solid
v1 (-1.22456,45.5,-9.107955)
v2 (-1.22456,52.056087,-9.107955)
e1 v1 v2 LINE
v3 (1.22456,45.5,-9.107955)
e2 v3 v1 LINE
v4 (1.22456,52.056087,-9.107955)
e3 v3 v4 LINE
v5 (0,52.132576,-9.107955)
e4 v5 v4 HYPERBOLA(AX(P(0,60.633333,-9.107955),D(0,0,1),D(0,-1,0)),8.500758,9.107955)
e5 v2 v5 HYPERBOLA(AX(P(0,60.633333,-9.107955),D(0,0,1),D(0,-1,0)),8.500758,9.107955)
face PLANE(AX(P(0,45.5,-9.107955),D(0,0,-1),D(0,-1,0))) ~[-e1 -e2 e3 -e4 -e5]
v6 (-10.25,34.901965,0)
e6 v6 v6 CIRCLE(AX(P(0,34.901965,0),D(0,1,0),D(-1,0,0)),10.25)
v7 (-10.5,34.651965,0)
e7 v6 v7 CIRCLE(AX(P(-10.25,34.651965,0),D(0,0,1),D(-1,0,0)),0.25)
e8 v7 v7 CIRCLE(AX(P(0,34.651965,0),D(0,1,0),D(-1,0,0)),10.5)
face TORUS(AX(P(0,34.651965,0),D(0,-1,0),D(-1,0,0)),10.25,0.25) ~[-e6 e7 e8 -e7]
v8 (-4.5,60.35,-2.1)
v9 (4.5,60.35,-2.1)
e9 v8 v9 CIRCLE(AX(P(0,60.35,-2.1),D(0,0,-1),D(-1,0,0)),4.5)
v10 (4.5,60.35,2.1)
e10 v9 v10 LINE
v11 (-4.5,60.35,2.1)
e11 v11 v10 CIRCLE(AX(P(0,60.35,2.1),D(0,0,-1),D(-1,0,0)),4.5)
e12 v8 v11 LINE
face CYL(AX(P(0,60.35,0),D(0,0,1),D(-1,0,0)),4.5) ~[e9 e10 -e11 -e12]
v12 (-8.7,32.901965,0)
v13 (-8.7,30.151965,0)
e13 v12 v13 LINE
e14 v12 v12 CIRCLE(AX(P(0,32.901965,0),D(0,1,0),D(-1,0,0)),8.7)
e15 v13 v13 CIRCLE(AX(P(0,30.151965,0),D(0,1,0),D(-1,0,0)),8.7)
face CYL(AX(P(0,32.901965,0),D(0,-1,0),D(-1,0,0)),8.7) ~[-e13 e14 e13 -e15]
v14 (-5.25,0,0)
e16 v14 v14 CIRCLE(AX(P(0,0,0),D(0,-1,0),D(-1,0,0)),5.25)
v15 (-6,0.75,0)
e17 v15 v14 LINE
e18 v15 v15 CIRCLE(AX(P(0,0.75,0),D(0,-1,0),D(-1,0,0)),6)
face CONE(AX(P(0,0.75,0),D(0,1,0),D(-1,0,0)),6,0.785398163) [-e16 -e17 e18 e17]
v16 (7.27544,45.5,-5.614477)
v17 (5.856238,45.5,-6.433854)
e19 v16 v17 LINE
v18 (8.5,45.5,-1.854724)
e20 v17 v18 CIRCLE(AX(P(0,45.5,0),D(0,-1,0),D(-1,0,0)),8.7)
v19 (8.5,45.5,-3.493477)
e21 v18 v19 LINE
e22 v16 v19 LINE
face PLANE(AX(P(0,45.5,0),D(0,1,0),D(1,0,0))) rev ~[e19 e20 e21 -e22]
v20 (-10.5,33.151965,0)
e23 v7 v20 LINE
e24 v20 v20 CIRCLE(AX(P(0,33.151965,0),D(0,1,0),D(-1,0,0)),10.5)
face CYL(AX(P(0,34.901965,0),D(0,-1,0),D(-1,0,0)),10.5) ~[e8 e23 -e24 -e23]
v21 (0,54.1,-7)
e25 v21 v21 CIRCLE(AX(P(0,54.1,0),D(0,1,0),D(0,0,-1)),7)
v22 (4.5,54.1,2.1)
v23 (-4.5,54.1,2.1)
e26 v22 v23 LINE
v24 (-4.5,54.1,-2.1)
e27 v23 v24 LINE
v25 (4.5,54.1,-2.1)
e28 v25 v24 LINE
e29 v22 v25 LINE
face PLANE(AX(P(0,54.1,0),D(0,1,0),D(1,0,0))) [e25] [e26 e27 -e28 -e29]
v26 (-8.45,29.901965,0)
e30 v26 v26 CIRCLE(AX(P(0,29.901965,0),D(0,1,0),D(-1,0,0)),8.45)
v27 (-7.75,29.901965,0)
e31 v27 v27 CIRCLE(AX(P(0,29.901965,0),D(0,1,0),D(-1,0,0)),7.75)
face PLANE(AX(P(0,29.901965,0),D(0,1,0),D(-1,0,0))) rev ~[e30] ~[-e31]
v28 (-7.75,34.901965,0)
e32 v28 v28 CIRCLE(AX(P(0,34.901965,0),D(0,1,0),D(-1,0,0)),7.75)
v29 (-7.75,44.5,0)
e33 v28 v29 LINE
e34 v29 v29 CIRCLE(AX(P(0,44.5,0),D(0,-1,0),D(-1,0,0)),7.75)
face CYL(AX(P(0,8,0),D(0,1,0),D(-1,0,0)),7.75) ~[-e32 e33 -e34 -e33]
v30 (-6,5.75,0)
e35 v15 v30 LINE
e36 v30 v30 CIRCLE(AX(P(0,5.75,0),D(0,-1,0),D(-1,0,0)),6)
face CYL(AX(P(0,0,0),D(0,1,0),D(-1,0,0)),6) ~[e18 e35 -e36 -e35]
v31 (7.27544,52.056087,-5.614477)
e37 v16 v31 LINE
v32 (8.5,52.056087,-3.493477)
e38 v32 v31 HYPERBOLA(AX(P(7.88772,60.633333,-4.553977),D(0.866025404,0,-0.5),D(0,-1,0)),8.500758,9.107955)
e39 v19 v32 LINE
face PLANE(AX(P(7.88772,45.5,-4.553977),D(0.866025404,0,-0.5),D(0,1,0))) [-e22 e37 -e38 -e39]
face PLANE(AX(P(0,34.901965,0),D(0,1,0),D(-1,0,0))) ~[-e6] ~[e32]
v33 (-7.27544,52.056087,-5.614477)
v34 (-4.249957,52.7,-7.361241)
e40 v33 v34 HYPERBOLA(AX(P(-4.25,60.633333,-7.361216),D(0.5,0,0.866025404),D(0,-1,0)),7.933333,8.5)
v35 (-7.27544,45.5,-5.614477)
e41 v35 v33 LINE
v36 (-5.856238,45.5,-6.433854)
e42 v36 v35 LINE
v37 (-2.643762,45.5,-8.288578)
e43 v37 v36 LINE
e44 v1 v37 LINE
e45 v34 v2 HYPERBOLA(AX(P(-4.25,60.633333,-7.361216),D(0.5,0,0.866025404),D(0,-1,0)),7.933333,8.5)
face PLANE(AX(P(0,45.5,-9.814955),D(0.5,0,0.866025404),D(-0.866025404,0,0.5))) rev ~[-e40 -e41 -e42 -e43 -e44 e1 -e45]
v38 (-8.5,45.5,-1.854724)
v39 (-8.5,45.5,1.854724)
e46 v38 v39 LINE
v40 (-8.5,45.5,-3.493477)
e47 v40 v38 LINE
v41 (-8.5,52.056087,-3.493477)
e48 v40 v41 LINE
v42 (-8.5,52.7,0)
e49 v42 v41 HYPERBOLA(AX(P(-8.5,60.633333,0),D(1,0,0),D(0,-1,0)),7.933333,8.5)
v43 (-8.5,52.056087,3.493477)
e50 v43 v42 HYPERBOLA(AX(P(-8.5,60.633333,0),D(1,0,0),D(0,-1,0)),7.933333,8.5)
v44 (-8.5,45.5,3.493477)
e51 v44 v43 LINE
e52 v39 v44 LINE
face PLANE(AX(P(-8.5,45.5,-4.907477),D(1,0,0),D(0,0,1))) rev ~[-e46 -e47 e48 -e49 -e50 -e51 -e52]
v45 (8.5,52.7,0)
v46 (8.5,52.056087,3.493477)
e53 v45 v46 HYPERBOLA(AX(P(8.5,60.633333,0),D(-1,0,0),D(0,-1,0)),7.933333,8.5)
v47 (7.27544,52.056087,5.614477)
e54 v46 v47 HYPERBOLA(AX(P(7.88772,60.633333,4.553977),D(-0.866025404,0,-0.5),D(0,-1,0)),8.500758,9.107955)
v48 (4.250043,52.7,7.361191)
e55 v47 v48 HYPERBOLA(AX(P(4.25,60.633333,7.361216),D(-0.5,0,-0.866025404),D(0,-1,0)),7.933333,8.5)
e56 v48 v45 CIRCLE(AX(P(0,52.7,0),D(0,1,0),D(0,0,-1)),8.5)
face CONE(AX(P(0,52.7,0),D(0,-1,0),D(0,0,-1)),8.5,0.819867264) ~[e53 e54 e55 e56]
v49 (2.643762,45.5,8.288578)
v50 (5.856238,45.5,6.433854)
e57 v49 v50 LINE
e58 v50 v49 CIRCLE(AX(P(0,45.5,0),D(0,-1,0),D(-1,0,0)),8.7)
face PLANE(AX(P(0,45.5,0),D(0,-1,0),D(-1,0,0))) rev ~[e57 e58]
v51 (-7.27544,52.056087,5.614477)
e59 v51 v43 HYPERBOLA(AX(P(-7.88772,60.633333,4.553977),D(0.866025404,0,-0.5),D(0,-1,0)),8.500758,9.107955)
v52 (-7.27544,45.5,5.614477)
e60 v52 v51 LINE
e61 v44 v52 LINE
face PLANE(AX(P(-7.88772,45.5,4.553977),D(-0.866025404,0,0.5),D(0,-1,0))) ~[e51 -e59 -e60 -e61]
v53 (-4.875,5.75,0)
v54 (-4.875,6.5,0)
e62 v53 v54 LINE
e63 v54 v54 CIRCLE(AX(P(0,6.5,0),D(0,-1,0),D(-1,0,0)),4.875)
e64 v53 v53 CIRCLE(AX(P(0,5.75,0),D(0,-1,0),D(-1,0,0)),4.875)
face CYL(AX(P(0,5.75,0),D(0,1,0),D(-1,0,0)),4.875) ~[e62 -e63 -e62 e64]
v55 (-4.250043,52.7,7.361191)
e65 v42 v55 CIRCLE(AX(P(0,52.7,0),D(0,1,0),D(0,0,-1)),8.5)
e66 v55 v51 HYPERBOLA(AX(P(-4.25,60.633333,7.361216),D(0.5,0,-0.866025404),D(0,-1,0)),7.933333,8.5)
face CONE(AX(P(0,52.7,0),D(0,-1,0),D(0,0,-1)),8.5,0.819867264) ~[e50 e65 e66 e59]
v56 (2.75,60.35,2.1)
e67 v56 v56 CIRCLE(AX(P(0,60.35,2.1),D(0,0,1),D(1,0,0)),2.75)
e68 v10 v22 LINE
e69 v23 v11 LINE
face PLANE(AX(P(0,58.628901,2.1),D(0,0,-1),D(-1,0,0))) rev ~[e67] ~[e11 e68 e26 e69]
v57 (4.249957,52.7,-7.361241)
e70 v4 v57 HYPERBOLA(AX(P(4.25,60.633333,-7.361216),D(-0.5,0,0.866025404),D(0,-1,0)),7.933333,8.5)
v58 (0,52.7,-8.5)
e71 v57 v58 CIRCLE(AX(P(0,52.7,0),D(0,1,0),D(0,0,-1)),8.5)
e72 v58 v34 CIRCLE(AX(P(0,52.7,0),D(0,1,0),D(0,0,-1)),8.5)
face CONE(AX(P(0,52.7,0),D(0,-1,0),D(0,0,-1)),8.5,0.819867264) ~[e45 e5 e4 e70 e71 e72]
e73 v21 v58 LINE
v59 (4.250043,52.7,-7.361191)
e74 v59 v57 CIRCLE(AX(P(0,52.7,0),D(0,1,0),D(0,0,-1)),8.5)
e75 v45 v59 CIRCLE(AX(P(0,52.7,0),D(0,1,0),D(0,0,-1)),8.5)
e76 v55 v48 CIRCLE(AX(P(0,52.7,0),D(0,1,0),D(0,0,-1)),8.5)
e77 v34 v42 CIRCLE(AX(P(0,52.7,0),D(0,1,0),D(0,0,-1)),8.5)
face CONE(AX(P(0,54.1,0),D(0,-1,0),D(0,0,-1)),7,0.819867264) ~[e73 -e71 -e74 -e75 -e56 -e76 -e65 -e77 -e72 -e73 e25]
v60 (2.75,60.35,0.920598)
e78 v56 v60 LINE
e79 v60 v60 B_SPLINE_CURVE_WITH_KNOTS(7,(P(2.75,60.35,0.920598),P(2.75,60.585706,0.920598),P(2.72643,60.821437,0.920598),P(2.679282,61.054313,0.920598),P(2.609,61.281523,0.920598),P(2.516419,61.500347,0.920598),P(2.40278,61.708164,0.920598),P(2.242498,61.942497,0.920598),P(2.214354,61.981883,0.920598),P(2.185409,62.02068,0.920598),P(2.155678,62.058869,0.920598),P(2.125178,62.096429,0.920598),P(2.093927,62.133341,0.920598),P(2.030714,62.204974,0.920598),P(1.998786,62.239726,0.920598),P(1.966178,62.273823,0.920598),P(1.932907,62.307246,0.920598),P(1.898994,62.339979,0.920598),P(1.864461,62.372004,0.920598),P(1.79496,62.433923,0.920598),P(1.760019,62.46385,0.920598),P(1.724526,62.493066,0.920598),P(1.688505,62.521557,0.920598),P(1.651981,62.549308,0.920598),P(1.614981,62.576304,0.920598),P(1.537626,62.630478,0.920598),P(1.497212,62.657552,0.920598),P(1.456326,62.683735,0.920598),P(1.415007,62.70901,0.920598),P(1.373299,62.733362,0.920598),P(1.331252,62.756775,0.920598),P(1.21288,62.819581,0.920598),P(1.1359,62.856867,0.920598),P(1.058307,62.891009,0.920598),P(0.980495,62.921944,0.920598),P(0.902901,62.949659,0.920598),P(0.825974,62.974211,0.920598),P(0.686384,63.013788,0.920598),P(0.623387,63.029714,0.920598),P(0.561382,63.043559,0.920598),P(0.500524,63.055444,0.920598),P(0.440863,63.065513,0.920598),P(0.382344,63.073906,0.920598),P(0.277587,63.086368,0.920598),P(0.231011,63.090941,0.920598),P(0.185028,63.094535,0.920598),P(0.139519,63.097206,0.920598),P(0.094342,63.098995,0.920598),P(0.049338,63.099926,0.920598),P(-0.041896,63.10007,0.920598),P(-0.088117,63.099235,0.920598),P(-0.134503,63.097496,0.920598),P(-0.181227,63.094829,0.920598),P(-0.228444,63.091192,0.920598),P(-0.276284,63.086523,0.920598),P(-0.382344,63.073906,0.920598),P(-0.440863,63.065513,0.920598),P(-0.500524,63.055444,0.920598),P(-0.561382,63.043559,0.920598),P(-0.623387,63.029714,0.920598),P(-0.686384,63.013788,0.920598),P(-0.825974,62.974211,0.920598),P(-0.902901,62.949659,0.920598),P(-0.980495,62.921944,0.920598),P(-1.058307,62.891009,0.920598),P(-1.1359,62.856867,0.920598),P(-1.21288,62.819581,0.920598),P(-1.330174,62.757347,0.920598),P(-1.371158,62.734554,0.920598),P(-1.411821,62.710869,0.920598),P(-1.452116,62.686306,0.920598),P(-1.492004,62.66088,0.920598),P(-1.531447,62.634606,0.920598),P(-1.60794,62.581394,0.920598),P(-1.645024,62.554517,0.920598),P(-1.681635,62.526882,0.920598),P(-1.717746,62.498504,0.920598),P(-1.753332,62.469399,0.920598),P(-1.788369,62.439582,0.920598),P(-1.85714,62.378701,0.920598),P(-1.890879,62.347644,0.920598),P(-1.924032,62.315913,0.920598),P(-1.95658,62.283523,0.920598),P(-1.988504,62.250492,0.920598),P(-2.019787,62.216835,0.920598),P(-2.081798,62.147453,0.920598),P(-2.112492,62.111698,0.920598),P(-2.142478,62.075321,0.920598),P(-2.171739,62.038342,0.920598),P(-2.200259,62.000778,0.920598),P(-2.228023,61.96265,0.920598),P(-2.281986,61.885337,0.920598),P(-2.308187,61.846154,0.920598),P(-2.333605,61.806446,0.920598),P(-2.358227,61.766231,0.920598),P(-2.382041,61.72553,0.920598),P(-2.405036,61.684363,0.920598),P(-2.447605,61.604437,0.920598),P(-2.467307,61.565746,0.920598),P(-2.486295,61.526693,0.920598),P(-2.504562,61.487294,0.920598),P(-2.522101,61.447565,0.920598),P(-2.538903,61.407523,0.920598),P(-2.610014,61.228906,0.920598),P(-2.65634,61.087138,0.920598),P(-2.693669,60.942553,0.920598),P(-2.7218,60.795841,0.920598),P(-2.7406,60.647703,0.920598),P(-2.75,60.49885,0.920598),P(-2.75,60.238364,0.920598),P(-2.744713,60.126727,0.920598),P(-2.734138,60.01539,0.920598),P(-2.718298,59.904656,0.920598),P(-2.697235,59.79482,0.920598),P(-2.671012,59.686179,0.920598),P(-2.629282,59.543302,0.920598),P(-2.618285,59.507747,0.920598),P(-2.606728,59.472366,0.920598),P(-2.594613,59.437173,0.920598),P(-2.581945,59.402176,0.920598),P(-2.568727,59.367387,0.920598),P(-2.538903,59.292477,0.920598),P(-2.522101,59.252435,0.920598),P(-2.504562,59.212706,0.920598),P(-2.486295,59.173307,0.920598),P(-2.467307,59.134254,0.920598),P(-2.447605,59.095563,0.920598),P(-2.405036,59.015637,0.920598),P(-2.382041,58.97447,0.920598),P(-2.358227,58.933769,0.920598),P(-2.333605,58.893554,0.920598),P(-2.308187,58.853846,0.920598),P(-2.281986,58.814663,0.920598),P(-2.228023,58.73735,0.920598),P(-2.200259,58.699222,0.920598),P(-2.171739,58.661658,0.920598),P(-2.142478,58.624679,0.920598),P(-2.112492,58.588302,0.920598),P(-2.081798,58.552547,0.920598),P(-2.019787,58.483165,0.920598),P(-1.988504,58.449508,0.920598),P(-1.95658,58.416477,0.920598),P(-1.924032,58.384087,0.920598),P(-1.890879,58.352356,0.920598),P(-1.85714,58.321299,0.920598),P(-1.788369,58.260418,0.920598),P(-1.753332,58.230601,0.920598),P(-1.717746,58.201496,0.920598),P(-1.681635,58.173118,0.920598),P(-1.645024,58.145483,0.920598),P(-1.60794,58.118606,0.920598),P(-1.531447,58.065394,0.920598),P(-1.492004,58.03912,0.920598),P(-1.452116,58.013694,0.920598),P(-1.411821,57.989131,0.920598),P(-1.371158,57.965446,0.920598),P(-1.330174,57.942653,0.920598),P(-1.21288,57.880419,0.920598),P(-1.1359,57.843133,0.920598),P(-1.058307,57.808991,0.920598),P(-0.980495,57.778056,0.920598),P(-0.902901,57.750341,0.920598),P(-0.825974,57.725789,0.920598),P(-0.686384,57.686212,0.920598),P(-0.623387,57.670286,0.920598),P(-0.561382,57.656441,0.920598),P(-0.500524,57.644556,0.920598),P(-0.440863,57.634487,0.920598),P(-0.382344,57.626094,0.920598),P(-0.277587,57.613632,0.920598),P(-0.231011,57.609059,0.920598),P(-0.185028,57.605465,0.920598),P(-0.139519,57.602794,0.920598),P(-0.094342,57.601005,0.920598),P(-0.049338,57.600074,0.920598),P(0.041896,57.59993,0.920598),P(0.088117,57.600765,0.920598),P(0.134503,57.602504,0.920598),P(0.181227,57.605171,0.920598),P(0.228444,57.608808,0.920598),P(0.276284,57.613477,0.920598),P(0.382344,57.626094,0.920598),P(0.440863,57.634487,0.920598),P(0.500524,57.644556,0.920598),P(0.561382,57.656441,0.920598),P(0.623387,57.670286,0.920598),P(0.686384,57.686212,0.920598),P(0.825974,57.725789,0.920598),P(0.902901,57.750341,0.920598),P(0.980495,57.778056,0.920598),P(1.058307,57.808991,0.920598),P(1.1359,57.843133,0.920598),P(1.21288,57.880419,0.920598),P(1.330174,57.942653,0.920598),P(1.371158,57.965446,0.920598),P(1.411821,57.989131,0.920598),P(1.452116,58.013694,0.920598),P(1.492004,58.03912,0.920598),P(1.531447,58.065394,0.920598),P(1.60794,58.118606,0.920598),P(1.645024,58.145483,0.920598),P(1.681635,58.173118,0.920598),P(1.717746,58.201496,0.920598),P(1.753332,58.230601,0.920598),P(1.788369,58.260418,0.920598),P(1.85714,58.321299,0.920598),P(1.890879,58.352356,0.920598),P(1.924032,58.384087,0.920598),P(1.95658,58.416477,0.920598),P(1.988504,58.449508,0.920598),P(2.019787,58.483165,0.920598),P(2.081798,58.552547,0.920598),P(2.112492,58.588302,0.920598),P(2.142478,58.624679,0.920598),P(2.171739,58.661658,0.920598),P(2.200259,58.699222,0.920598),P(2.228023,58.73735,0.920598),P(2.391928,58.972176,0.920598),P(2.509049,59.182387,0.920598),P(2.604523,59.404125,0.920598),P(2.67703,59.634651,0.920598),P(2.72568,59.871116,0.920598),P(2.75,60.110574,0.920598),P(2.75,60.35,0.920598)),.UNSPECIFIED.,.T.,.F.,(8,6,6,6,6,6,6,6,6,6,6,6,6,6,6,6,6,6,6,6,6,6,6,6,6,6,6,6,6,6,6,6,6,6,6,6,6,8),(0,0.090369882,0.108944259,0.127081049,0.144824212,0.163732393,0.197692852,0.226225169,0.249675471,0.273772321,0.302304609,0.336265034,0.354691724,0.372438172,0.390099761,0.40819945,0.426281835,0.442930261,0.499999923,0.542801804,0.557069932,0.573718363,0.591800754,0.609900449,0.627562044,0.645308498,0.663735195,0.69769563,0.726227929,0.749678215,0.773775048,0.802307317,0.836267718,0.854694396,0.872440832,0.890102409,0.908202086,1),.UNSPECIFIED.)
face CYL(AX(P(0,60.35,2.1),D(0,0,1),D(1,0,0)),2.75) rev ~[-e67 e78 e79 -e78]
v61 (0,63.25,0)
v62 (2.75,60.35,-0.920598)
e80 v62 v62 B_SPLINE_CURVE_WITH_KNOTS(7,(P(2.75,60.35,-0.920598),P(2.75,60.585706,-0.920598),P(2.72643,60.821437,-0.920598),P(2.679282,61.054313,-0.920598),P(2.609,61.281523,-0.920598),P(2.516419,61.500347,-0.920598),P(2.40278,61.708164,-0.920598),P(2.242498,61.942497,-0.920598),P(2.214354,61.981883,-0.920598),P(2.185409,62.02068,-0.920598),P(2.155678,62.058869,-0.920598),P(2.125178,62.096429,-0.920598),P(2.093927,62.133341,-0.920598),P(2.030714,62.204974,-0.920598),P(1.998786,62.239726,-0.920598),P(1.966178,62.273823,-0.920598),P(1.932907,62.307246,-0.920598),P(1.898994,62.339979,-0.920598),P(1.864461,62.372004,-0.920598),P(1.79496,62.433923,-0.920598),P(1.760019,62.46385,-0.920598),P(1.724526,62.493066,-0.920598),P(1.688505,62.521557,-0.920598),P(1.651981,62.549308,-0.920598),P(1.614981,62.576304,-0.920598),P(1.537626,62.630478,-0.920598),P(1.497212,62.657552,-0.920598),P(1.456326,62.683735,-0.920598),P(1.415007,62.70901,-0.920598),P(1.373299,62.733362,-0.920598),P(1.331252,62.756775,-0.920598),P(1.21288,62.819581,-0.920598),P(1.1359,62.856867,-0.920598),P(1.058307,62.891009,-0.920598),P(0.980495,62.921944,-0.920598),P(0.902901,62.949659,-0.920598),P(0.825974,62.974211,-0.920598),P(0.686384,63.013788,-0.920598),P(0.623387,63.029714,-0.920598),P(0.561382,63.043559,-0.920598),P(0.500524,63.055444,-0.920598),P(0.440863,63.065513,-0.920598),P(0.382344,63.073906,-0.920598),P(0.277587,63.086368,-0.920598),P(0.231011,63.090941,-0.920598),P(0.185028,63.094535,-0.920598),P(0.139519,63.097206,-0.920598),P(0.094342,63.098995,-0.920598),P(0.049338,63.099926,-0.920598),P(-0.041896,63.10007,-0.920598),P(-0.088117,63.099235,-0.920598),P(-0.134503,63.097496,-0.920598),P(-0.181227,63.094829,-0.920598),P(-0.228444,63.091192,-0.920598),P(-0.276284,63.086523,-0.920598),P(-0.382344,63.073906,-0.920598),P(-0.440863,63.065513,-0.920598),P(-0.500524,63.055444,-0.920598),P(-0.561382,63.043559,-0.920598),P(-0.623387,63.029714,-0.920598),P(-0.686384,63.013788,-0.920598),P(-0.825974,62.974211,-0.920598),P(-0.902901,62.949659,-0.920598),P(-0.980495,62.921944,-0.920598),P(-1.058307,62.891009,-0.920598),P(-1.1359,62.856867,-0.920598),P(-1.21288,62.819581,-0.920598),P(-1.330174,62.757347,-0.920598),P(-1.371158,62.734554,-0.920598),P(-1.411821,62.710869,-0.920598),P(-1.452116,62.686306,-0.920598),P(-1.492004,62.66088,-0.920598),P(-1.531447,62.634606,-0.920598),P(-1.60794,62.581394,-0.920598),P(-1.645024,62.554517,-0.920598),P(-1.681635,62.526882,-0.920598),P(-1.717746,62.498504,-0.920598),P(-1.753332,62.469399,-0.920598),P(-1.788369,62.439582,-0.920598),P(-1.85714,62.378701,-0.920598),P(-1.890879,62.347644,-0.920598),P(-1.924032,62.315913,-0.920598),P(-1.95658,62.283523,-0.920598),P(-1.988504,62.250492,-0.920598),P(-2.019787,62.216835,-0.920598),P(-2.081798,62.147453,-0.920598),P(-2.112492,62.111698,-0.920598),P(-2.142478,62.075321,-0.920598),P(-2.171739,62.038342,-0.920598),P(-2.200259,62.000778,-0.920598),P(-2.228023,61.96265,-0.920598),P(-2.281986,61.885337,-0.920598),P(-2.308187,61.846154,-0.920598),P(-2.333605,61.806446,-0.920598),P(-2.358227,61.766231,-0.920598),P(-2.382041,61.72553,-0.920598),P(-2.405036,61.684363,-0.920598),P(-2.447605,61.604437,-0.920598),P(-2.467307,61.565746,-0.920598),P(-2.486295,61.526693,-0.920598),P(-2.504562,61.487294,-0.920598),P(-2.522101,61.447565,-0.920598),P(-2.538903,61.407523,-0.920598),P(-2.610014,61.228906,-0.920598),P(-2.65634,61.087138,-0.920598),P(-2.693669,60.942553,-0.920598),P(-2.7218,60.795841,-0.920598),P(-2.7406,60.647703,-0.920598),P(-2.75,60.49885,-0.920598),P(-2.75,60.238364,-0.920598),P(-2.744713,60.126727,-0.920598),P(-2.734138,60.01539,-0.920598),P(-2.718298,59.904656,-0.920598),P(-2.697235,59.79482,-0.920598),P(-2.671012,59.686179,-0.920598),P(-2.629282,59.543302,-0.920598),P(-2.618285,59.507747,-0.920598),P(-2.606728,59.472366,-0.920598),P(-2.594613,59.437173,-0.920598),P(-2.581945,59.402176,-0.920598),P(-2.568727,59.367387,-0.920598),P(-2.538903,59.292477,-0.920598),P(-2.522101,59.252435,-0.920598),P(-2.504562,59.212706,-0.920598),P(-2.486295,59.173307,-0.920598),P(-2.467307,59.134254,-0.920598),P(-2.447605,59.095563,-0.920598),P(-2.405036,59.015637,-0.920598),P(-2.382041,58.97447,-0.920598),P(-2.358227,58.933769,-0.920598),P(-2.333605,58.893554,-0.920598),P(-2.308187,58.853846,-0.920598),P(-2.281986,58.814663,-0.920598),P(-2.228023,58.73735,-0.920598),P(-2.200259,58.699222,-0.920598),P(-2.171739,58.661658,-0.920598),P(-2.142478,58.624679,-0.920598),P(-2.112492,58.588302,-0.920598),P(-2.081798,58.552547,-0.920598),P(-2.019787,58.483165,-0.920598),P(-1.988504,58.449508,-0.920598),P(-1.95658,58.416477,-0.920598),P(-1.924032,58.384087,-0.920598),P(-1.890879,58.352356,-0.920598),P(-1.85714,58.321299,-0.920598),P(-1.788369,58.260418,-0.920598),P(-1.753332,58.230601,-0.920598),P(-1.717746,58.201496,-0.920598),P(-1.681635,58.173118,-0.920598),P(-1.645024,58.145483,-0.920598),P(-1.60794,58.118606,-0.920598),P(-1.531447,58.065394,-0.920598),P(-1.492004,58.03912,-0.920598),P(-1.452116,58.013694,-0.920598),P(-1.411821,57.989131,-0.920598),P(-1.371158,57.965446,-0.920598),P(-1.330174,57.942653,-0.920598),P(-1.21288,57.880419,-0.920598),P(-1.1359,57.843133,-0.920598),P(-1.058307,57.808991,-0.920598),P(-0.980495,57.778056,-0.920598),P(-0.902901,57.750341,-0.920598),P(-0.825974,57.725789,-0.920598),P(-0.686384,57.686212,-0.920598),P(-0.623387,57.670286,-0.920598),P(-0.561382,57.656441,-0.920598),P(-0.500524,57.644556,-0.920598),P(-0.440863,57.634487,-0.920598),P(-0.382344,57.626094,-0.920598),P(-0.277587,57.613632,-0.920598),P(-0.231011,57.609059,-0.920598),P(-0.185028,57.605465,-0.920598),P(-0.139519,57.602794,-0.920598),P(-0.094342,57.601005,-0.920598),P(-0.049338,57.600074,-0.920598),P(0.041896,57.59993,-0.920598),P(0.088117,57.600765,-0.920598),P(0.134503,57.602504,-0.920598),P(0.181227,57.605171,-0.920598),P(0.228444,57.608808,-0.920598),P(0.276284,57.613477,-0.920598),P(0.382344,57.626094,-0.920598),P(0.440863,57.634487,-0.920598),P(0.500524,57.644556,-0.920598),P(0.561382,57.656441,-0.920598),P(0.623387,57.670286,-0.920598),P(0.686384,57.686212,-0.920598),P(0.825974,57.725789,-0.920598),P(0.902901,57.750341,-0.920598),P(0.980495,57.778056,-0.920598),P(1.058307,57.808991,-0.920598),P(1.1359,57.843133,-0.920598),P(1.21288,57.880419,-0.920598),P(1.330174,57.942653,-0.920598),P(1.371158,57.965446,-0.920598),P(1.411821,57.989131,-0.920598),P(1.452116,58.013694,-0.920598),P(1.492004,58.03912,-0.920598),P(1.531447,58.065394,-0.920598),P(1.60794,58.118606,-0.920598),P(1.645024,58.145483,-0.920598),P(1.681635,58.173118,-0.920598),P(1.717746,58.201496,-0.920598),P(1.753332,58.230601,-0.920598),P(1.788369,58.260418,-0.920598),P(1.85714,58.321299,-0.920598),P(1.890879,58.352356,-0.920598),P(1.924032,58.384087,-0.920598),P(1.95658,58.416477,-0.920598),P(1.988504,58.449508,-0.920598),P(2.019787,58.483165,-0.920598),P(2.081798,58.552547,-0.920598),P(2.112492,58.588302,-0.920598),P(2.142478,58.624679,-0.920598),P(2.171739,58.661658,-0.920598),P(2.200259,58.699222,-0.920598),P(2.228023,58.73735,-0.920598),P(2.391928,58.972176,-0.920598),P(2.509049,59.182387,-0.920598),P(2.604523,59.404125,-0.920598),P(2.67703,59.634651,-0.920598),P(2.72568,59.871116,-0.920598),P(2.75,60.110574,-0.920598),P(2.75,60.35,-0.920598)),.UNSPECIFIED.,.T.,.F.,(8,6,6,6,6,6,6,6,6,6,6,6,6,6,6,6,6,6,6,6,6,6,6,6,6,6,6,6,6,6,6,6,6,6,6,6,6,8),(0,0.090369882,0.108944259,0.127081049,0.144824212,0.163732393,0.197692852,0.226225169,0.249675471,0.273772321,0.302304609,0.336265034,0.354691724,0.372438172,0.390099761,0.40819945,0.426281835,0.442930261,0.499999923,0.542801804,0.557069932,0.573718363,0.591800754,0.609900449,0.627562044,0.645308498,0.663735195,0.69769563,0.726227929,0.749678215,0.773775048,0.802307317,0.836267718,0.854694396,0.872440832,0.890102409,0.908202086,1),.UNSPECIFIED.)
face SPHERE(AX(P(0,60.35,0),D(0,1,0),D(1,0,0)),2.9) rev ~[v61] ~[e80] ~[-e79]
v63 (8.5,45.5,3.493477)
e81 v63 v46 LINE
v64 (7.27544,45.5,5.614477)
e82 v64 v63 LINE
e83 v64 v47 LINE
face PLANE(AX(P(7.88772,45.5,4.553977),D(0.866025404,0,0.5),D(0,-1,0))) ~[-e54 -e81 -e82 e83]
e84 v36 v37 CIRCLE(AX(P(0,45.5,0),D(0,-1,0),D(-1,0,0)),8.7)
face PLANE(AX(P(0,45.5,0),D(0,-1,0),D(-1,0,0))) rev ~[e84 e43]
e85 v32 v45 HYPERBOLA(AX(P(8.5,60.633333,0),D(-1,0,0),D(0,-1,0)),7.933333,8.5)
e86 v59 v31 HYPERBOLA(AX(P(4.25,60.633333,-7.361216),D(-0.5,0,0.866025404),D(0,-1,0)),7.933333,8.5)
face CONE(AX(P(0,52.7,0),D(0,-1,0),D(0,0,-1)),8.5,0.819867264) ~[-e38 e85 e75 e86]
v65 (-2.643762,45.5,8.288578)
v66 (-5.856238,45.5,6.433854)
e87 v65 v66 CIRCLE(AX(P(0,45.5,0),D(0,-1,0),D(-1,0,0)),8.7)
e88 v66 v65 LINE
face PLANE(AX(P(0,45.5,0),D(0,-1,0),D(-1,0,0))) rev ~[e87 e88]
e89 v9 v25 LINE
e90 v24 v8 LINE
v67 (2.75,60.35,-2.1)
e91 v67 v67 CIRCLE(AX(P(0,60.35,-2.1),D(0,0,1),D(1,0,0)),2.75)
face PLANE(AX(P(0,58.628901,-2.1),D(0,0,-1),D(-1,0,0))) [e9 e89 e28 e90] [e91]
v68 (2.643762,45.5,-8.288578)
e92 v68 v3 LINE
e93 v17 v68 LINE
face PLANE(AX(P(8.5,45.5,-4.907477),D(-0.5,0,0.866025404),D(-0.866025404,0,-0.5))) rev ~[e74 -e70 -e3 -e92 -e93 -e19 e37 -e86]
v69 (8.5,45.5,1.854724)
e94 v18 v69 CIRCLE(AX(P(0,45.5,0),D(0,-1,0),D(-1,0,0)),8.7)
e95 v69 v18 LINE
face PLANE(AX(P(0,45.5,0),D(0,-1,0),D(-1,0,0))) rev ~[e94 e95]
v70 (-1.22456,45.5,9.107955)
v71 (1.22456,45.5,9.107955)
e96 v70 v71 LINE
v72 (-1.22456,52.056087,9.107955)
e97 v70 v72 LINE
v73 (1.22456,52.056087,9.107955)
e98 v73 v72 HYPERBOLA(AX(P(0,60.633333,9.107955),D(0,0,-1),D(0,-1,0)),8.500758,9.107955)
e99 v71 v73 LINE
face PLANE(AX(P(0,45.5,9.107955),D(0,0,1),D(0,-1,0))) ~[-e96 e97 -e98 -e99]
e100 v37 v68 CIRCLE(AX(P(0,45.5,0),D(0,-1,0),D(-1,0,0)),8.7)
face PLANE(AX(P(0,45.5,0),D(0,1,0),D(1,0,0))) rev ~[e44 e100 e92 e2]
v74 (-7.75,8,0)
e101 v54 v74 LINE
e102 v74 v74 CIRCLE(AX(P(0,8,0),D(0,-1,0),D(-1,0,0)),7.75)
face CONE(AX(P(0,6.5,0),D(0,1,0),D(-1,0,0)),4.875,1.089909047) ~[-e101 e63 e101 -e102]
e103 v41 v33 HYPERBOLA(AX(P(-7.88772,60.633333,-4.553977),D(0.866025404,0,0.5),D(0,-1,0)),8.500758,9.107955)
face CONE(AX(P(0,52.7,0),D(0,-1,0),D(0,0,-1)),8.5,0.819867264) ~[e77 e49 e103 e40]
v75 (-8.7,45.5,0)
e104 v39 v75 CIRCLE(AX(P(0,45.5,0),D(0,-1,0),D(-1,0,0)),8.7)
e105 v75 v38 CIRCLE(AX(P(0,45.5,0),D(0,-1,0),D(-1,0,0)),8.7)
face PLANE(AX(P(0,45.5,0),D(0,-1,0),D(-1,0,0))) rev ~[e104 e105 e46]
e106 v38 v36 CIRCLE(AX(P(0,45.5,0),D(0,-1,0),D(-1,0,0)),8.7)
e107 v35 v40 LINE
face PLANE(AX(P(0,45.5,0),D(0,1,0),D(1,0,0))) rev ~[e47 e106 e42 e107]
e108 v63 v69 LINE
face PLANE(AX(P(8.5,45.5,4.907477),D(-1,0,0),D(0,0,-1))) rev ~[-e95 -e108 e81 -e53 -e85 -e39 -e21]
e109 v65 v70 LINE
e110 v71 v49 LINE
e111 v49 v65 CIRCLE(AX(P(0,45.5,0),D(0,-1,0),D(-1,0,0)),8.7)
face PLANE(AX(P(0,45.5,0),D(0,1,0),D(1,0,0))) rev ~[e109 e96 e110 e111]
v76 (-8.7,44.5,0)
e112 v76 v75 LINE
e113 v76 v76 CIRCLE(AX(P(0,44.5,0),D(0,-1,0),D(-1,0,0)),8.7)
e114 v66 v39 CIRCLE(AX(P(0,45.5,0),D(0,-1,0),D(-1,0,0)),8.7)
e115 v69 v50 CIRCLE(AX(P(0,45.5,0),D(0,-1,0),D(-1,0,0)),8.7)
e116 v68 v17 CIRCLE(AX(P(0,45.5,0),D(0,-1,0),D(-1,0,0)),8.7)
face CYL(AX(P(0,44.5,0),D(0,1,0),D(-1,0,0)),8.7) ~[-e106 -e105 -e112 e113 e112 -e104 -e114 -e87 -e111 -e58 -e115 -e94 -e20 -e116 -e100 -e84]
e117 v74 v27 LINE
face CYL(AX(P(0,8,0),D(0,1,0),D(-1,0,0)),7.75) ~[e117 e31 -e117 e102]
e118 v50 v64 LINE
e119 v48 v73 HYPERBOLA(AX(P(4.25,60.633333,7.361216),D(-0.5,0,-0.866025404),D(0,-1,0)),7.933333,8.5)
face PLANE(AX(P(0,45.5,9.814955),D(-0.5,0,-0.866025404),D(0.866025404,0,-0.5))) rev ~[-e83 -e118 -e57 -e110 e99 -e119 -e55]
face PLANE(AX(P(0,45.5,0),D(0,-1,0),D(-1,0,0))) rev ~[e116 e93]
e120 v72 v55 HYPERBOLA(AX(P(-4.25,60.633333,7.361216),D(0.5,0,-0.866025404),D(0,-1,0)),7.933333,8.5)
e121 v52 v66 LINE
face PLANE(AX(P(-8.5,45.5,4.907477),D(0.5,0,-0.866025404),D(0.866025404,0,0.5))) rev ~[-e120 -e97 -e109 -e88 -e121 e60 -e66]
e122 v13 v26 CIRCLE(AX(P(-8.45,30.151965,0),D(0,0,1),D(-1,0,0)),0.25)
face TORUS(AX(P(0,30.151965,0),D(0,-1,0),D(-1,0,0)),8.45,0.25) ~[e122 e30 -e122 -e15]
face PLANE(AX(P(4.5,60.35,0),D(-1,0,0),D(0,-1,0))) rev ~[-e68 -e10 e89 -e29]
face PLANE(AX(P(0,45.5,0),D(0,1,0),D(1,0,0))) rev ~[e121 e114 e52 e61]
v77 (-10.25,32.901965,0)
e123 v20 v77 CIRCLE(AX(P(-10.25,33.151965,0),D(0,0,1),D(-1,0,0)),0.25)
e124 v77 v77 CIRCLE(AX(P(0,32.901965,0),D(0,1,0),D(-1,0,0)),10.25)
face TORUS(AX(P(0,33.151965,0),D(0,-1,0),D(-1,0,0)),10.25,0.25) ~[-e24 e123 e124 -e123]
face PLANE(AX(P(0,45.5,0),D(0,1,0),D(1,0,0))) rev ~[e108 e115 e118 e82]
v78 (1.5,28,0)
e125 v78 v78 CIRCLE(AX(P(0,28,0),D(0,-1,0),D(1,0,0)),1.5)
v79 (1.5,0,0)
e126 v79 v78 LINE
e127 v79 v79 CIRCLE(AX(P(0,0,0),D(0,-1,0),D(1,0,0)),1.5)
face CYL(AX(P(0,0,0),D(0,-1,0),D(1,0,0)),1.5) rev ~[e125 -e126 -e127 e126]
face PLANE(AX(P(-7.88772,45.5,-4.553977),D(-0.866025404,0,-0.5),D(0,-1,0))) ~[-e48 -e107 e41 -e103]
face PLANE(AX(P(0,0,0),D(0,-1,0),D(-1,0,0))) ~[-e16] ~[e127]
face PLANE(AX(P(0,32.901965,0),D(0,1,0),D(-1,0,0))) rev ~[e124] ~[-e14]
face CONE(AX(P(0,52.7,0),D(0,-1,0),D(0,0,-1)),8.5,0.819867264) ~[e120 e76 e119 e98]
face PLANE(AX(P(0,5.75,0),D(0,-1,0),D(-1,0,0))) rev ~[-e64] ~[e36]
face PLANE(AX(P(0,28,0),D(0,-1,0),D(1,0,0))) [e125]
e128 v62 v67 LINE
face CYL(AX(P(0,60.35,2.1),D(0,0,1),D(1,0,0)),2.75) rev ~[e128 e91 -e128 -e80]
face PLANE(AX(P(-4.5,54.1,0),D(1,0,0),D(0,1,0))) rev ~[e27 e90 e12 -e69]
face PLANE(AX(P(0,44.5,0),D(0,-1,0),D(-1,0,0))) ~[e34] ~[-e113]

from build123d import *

# Parameters (mm, degrees)
BOSS_EXTRUDE1_DEPTH  = 8.6
CHAMFER1_SIZE        = 1.414
CHAMFER1_EDGE_2_SIZE = 1.414
CHAMFER1_EDGE_3_SIZE = 1.414
CHAMFER1_EDGE_4_SIZE = 1.414
CHAMFER1_EDGE_5_SIZE = 1.414
CHAMFER1_EDGE_6_SIZE = 1.414
FILLET1_R            = 0.25
SKETCH6_R            = 1.5
CUT_EXTRUDE1_DEPTH   = 28
BOSS_EXTRUDE2_DEPTH  = 2.1
SKETCH9_R            = 2.75
CUT_EXTRUDE2_DEPTH   = 4.2
CHAMFER3_SIZE        = 0.75


with BuildPart() as part:
    # Sketch1 → Revolve1 (revolve)
    with BuildSketch(Plane.XY, mode=Mode.PRIVATE) as revolve1_sk:
        Polygon((0, 0), (6, 0), (6, 5.75), (4.875, 5.75), (4.875, 6.5), (7.75, 8), (7.75, 44.5), (8.7, 44.5), (8.7, 45.5), (0, 45.5), align=None)
    revolve(revolve1_sk.sketch.rotate(Axis((0, 45.5, 0), (0, -1, 0)), 180), axis=Axis((0, 45.5, 0), (0, -1, 0)))

    # Sketch3 → Boss-Extrude1 (add)
    with BuildSketch(Plane(origin=(0, 45.5, 0), x_dir=(1, 0, 0), z_dir=(0, 1, 0))):
        Polygon((0, 9.814954576), (-8.5, 4.907477288), (-8.5, -4.907477288), (0, -9.814954576), (8.5, -4.907477288), (8.5, 4.907477288), align=None)
    extrude(amount=BOSS_EXTRUDE1_DEPTH)

    # Chamfer1
    chamfer1_edges = [part.edges().sort_by_distance(p)[0] for p in [
        (8.5, 49.8, -4.907477288),
    ]]
    chamfer(chamfer1_edges, length=CHAMFER1_SIZE)

    # Chamfer1 edge 2
    chamfer1_edge_2_edges = [part.edges().sort_by_distance(p)[0] for p in [
        (0, 49.8, -9.814954576),
    ]]
    chamfer(chamfer1_edge_2_edges, length=CHAMFER1_EDGE_2_SIZE)

    # Chamfer1 edge 3
    chamfer1_edge_3_edges = [part.edges().sort_by_distance(p)[0] for p in [
        (-8.5, 49.8, -4.907477288),
    ]]
    chamfer(chamfer1_edge_3_edges, length=CHAMFER1_EDGE_3_SIZE)

    # Chamfer1 edge 4
    chamfer1_edge_4_edges = [part.edges().sort_by_distance(p)[0] for p in [
        (-8.5, 49.8, 4.907477288),
    ]]
    chamfer(chamfer1_edge_4_edges, length=CHAMFER1_EDGE_4_SIZE)

    # Chamfer1 edge 5
    chamfer1_edge_5_edges = [part.edges().sort_by_distance(p)[0] for p in [
        (0, 49.8, 9.814954576),
    ]]
    chamfer(chamfer1_edge_5_edges, length=CHAMFER1_EDGE_5_SIZE)

    # Chamfer1 edge 6
    chamfer1_edge_6_edges = [part.edges().sort_by_distance(p)[0] for p in [
        (8.5, 49.8, 4.907477288),
    ]]
    chamfer(chamfer1_edge_6_edges, length=CHAMFER1_EDGE_6_SIZE)

    # Sketch5 → Revolve2 (revolve)
    with BuildSketch(Plane.XY, mode=Mode.PRIVATE) as revolve2_sk:
        Polygon((7.75, 34.901965379), (10.5, 34.901965379), (10.5, 32.901965379), (8.7, 32.901965379), (8.7, 29.901965379), (7.75, 29.901965379), align=None)
    revolve(revolve2_sk.sketch.rotate(Axis((0, 0, 0), (0, 1, 0)), 180), axis=Axis((0, 0, 0), (0, 1, 0)))

    # Fillet1
    fillet1_edges = [part.edges().sort_by_distance(p)[0] for p in [
        (10.5, 34.901965379, 0),
        (10.5, 32.901965379, 0),
        (8.7, 29.901965379, 0),
    ]]
    fillet(fillet1_edges, radius=FILLET1_R)

    # Sketch6 → Cut-Extrude1 (cut)
    with BuildSketch(Plane.XZ):
        Circle(SKETCH6_R)
    extrude(amount=-CUT_EXTRUDE1_DEPTH, mode=Mode.SUBTRACT)

    # Sketch7 → Boss-Extrude2 (add, symmetric)
    with BuildSketch(Plane.XY):
        with BuildLine():
            Line((4.5, 60.35), (4.5, 54.1))
            Line((4.5, 54.1), (-4.5, 54.1))
            Line((-4.5, 54.1), (-4.5, 60.35))
            ThreePointArc((-4.5, 60.35), (0, 64.85), (4.5, 60.35))
        make_face()
    extrude(amount=BOSS_EXTRUDE2_DEPTH, both=True)

    # Sketch8 → Cut-Revolve1 (revolve, cut)
    with BuildSketch(Plane.XY):
        with BuildLine():
            Line((0, 63.25), (0, 57.45))
            ThreePointArc((0, 57.45), (2.9, 60.35), (0, 63.25))
        make_face()
    revolve(axis=Axis((0, 54.1, 0), (0, 1, 0)), mode=Mode.SUBTRACT)

    # Sketch9 → Cut-Extrude2 (cut)
    with BuildSketch(Plane.XY.offset(2.1)):
        with Locations((0, 60.35)):
            Circle(SKETCH9_R)
    extrude(amount=-CUT_EXTRUDE2_DEPTH, mode=Mode.SUBTRACT)

    # Sketch10 → Cut-Revolve2 (revolve, cut)
    with BuildSketch(Plane.XY, mode=Mode.PRIVATE) as cut_revolve2_sk:
        Polygon((7, 54.1), (8.5, 52.7), (10.124681139, 51.183630937), (10.124681139, 53.919402207), (7, 56.83577127), align=None)
    revolve(cut_revolve2_sk.sketch.rotate(Axis((0, 0, 0), (0, 1, 0)), 90), axis=Axis((0, 0, 0), (0, 1, 0)), mode=Mode.SUBTRACT)

    # Chamfer3
    chamfer3_edges = [part.edges().sort_by_distance(p)[0] for p in [
        (6, 0, 0),
    ]]
    chamfer(chamfer3_edges, length=CHAMFER3_SIZE)


solid = part.part
